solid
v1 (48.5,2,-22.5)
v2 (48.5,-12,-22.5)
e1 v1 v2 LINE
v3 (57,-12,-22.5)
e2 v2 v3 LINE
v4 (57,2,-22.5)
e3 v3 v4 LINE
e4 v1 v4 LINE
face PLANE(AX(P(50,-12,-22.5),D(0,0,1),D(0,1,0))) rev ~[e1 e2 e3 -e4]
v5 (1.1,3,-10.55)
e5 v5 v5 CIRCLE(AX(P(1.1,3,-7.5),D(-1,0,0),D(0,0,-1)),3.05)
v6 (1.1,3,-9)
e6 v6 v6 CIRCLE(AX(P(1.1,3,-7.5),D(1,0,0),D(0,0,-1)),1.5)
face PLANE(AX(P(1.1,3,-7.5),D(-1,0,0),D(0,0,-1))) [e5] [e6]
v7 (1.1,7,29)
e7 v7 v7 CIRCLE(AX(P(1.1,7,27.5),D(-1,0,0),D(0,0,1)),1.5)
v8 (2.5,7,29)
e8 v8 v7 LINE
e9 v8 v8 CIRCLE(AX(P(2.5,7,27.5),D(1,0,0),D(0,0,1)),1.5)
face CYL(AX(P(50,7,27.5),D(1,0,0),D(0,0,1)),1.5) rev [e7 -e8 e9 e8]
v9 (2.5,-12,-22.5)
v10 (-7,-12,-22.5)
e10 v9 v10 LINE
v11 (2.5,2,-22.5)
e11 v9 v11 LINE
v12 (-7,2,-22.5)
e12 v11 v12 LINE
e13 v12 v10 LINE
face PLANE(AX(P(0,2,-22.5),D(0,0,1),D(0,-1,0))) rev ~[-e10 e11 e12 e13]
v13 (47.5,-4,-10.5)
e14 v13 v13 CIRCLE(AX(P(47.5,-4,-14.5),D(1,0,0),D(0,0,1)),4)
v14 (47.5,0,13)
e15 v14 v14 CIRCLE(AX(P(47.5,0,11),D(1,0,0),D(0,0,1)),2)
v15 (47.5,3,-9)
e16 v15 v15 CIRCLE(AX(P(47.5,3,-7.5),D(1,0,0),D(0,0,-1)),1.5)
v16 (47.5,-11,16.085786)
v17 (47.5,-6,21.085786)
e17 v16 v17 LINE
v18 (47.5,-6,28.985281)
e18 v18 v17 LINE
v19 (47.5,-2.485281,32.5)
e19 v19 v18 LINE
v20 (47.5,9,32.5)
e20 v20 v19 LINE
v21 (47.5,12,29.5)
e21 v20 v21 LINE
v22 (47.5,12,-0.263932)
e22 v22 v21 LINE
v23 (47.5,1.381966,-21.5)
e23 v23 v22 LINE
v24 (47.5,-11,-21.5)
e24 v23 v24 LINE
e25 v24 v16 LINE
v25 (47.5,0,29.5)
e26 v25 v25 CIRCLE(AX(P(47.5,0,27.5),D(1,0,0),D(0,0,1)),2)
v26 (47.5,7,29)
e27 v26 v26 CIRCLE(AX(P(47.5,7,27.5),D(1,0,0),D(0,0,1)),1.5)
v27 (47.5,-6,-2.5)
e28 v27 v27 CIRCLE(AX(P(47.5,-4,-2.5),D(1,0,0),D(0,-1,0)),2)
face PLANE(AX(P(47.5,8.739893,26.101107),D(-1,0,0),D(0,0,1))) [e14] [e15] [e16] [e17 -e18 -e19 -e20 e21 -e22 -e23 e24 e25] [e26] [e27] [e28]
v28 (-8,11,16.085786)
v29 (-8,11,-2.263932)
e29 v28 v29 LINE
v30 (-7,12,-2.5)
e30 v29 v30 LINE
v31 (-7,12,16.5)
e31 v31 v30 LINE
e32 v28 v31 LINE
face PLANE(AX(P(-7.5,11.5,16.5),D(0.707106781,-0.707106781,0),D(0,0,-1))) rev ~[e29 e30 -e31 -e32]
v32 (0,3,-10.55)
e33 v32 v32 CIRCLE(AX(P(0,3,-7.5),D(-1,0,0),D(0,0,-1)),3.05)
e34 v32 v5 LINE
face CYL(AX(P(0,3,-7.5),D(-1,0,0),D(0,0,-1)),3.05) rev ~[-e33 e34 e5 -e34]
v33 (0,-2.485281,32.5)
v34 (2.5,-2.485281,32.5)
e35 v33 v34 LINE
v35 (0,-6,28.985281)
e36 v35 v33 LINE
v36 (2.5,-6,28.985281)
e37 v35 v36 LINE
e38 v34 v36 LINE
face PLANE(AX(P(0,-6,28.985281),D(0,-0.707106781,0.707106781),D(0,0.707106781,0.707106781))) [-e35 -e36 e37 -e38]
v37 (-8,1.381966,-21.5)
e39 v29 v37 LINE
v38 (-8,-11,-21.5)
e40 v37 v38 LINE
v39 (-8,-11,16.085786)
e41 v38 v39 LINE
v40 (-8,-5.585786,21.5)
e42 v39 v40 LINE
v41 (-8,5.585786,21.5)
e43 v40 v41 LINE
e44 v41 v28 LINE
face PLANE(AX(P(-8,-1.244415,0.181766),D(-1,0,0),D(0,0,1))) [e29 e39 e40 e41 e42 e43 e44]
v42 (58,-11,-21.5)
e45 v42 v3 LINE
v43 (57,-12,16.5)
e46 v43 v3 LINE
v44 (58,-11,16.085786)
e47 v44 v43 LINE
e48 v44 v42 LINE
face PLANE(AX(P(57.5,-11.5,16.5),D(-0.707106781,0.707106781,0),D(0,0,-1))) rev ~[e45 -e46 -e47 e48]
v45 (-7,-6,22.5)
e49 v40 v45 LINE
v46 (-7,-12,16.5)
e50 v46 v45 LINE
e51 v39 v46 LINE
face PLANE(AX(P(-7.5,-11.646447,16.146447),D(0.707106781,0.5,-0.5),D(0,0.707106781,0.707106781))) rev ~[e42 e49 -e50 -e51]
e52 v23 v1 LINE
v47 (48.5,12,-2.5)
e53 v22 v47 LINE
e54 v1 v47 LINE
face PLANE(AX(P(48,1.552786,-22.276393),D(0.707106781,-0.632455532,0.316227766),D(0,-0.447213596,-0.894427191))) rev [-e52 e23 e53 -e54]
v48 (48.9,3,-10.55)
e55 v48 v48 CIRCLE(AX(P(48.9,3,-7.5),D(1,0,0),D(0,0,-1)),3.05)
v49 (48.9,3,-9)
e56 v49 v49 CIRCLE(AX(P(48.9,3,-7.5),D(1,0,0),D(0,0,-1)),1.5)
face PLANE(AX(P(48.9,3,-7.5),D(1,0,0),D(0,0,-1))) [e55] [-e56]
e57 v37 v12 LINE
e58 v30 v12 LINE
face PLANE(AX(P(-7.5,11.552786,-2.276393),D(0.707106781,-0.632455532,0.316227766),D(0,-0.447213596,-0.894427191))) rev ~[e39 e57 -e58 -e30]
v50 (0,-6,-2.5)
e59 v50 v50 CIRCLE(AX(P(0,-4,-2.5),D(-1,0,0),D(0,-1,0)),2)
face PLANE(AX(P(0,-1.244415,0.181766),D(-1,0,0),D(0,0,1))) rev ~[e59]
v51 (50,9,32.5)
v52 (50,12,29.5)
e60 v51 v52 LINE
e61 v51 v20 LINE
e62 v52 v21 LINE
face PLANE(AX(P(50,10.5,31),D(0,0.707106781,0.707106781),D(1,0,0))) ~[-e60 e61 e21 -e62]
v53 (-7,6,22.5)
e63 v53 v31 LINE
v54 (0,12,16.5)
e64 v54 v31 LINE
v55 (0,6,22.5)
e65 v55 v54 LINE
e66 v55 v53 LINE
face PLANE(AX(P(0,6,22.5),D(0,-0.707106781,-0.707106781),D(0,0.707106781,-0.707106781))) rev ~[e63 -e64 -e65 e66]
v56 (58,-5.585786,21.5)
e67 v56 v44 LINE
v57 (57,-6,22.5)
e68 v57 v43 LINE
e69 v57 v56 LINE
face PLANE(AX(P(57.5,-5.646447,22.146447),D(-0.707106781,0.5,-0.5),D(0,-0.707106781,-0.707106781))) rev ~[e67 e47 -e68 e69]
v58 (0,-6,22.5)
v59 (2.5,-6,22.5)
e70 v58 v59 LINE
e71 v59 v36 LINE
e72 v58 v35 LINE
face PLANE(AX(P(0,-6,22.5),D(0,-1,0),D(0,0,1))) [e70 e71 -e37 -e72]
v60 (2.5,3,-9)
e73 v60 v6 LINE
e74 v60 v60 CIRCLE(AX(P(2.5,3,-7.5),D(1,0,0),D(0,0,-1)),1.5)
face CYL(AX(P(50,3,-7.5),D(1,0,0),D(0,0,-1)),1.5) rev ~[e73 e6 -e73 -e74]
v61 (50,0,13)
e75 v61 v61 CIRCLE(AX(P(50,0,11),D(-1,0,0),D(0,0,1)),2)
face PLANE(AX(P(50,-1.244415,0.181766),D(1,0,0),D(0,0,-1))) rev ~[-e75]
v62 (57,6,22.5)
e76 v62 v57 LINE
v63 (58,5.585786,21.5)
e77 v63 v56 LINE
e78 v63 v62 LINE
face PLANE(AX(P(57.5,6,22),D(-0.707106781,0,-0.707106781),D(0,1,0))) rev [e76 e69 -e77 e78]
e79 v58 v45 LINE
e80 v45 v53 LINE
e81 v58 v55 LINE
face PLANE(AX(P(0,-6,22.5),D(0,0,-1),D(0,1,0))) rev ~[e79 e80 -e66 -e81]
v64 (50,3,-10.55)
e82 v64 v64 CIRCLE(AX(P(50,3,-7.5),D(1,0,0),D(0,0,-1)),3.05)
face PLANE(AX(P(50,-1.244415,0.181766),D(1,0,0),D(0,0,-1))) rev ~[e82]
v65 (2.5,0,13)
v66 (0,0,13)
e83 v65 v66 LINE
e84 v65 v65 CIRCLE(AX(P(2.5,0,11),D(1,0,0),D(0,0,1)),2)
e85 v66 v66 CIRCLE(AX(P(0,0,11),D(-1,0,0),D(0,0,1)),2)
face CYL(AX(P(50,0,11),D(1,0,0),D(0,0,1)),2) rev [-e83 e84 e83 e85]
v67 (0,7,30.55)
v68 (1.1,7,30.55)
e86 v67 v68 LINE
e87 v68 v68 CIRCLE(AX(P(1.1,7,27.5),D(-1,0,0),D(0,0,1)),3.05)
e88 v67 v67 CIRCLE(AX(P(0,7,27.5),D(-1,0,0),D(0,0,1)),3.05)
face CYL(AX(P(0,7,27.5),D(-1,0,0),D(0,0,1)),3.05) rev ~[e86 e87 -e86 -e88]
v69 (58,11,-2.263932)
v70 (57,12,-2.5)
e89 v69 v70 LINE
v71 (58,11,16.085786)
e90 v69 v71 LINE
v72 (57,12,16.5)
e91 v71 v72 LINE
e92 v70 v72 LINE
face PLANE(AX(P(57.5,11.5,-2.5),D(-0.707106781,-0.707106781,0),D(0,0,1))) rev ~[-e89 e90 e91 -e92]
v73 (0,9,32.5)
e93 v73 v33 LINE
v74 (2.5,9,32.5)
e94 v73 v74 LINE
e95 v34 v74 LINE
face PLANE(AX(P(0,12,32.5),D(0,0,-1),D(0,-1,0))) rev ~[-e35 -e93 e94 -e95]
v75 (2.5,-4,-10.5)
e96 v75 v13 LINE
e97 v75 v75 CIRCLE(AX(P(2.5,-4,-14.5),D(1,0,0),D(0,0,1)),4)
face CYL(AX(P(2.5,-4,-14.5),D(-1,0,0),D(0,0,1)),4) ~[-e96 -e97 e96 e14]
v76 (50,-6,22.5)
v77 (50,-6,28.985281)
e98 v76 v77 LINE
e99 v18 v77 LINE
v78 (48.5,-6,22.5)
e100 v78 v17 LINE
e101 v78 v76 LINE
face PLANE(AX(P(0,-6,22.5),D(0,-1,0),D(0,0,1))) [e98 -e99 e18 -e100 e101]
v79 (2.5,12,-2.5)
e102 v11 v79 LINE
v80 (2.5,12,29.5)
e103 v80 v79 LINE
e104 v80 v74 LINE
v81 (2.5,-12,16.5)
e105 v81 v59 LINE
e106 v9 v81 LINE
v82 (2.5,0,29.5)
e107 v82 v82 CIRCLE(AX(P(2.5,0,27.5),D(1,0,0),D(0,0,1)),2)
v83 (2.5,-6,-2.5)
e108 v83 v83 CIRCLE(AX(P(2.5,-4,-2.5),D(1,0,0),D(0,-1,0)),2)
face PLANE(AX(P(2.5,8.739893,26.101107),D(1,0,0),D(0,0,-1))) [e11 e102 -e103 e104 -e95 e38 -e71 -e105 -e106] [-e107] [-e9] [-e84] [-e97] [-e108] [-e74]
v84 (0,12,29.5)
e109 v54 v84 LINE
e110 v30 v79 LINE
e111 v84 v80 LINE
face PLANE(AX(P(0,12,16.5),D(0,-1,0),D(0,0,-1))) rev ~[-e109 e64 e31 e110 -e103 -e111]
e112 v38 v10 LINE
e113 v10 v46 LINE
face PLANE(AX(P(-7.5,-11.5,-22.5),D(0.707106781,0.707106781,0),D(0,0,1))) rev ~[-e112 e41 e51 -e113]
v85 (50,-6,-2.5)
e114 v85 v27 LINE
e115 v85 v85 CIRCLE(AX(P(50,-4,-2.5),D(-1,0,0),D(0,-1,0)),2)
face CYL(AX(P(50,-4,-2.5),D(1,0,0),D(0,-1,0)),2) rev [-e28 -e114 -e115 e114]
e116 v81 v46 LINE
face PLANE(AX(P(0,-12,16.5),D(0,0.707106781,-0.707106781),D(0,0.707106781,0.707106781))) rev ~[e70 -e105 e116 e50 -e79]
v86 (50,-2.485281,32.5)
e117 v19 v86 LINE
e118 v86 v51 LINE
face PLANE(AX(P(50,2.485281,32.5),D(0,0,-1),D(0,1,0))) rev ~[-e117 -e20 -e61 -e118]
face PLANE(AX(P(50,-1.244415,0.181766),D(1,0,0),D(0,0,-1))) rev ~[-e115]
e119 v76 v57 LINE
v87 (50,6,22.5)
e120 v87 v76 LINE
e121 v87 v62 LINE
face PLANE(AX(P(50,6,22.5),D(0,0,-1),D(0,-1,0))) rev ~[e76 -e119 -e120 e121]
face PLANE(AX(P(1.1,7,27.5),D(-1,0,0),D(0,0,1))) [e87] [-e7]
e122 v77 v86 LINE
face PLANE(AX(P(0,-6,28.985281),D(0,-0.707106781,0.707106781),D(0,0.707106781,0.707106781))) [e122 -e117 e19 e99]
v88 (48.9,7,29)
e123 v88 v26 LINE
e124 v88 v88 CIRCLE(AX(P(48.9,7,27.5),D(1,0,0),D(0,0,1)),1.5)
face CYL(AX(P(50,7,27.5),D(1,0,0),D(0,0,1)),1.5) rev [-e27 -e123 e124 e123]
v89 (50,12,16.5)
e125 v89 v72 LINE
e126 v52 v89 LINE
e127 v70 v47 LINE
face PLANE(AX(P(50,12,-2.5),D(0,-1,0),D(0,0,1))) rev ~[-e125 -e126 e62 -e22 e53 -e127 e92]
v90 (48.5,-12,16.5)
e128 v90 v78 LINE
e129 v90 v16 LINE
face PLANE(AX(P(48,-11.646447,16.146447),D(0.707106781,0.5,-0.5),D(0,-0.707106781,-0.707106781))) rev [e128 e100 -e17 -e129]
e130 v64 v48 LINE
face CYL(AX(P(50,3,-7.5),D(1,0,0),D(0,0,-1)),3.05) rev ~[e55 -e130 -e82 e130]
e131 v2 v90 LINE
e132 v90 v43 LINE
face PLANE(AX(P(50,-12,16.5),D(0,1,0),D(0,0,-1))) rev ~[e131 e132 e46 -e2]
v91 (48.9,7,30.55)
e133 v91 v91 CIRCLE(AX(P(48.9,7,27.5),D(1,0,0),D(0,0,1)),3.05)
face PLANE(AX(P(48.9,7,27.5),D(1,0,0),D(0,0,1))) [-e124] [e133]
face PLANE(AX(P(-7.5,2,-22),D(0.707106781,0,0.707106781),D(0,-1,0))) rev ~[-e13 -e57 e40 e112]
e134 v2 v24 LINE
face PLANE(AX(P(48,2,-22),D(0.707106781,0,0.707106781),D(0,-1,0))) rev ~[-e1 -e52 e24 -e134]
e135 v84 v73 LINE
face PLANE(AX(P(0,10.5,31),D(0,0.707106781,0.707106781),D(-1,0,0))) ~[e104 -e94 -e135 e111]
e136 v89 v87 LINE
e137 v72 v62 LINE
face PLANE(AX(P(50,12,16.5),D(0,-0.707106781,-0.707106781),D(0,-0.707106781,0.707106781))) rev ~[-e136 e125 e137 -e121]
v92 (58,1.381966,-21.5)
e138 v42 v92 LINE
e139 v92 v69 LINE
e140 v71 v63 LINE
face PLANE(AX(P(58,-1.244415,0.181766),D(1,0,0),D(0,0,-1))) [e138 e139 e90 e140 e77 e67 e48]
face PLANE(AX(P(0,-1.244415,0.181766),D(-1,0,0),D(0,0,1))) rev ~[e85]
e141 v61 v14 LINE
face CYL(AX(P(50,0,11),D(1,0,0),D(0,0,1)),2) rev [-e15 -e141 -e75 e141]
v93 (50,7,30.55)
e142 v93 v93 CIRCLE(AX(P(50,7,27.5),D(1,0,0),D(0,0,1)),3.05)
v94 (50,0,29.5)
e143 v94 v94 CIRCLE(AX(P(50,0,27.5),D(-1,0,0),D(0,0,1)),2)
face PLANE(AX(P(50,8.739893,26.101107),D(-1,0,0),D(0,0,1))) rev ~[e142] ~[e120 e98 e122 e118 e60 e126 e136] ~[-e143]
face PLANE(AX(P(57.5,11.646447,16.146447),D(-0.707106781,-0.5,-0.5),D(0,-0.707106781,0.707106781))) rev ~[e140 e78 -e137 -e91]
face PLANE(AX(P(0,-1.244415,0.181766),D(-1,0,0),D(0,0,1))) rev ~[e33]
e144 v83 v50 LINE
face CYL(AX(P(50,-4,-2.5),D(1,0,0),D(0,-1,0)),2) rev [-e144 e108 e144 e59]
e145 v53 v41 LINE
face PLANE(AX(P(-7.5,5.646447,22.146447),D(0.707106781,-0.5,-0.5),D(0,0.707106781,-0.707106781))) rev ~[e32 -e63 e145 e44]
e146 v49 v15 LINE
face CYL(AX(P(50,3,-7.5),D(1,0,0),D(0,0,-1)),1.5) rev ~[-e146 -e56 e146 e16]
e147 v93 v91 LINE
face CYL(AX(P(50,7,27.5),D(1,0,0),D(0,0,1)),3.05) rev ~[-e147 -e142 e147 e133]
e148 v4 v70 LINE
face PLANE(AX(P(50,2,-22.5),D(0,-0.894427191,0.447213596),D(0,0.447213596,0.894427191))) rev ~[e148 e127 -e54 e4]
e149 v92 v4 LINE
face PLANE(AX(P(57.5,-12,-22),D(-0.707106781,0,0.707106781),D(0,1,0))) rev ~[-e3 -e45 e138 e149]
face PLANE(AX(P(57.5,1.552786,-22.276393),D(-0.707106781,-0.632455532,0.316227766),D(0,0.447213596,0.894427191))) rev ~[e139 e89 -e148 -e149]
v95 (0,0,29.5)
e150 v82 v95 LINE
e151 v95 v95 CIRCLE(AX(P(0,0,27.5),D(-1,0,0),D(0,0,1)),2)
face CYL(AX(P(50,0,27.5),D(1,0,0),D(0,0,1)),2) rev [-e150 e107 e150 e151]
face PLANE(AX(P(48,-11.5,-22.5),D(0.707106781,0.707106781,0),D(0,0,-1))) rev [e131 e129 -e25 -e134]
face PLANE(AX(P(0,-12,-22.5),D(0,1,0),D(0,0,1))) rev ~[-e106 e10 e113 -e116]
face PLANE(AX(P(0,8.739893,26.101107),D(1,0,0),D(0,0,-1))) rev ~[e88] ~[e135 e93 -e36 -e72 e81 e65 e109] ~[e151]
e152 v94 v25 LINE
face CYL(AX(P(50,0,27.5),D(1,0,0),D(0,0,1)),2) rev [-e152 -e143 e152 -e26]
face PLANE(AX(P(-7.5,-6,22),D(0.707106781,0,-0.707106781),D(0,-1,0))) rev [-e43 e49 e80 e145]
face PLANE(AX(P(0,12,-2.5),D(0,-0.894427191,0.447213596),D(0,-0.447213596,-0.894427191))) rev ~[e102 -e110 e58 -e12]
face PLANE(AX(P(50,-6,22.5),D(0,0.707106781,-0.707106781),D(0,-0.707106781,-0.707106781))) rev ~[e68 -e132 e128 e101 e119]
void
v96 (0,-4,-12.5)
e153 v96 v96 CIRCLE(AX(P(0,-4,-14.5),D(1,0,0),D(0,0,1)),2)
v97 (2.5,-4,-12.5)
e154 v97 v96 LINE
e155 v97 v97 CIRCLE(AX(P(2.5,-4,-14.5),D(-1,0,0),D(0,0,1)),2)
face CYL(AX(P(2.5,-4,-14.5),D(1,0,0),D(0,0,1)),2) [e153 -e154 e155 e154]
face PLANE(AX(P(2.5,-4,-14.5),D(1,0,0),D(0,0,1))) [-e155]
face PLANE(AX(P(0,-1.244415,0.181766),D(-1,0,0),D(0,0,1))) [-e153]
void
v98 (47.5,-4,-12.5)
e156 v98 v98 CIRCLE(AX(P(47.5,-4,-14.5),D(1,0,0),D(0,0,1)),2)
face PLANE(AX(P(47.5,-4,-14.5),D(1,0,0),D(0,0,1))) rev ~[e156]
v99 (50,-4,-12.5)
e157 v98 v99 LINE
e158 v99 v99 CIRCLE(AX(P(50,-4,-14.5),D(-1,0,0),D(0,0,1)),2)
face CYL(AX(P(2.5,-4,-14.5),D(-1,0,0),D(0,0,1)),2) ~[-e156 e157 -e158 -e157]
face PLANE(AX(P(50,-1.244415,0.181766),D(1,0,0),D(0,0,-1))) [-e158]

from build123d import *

# Parameters (mm, degrees)
SKETCH2_W                      = 45
SKETCH2_H                      = 24
BOSS_EXTRUDE1_DEPTH            = 50
CUT_EXTRUDE7_DEPTH             = 50
CHAMFER4_SIZE                  = 6
CUT_EXTRUDE1_REACH             = 70.33
SKETCH3_W                      = 45
SKETCH3_H                      = 10
CUT_EXTRUDE2_REACH             = 55.912
SKETCH4_R                      = 2
CUT_EXTRUDE2_DIRECTION_2_REACH = 55.912
SKETCH8_W                      = 45
SKETCH8_H                      = 50
CUT_EXTRUDE4_DEPTH             = 14
SKETCH6_R                      = 4
BOSS_EXTRUDE2_DEPTH            = 45
CUT_EXTRUDE3_START             = -50
SKETCH7_R                      = 2
CUT_EXTRUDE3_DEPTH             = 50
CUT_EXTRUDE6_START             = -2.5
SKETCH13_R                     = 2
CUT_EXTRUDE6_DEPTH             = 50
BOSS_EXTRUDE16_REACH           = 58.127
CUT_EXTRUDE13_REACH            = 64.292
SKETCH30_W                     = 45
SKETCH30_H                     = 10
CUT_EXTRUDE18_START            = -50
SKETCH37_R                     = 2
CUT_EXTRUDE18_DEPTH            = 50
CUT_EXTRUDE20_REACH            = 62.83
SKETCH43_R                     = 1.5
SKETCH44_R                     = 3.05
CUT_EXTRUDE21_DEPTH            = 1.1
SKETCH45_R                     = 3.05
CUT_EXTRUDE22_DEPTH            = 1.1
BOSS_EXTRUDE23_DEPTH           = 2.5
BOSS_EXTRUDE24_DEPTH           = 2.5
SKETCH55_R                     = 3.05
CUT_EXTRUDE28_DEPTH            = 1.1
CUT_EXTRUDE29_START            = -50
SKETCH57_R                     = 1.5
CUT_EXTRUDE29_DEPTH            = 48.9
SKETCH58_R                     = 3.05
CUT_EXTRUDE30_DEPTH            = 1.1
CHAMFER11_SIZE                 = 3
BOSS_EXTRUDE19_DEPTH           = 8
BOSS_EXTRUDE20_DEPTH           = 8
CHAMFER7_SIZE                  = 1
CHAMFER8_SIZE                  = 1


with BuildPart() as part:
    # Sketch2 → Boss-Extrude1 (new body)
    with BuildSketch(Plane(origin=(0, 0, 0), x_dir=(0, 0, -1), z_dir=(1, 0, 0))):
        Rectangle(SKETCH2_W, SKETCH2_H)
    extrude(amount=BOSS_EXTRUDE1_DEPTH)

    # Sketch14 → Cut-Extrude7 (cut)
    with BuildSketch(Plane(origin=(50, 0, 0), x_dir=(0, 0, -1), z_dir=(1, 0, 0))):
        Polygon((2.5, 12), (22.5, 2), (22.5, 12), align=None)
    extrude(amount=-CUT_EXTRUDE7_DEPTH, mode=Mode.SUBTRACT)

    # Chamfer4
    chamfer4_edges = [part.edges().sort_by_distance(p)[0] for p in [
        (25, -12, 22.5),
        (25, 12, 22.5),
    ]]
    chamfer(chamfer4_edges, length=CHAMFER4_SIZE)

    # Cut-Extrude1: up to this face of the body (flat: up to its plane)
    cut_extrude1_end = Plane(part.part.faces().sort_by_distance((25, 0, 22.5))[0])
    # Sketch3 → Cut-Extrude1 (cut, up to the picked face)
    with BuildSketch(Plane(origin=(0, 0, -22.5), x_dir=(-1, 0, 0), z_dir=(0, 0, -1)), mode=Mode.PRIVATE) as cut_extrude1_sk1:
        with Locations((-25, -7)):
            Rectangle(SKETCH3_W, SKETCH3_H)
    cut_extrude1_tool1 = split(extrude(cut_extrude1_sk1.sketch, amount=-CUT_EXTRUDE1_REACH, mode=Mode.PRIVATE), bisect_by=cut_extrude1_end, keep=Keep.BOTH, mode=Mode.PRIVATE)
    add(cut_extrude1_tool1.solids().sort_by(Axis((25, -7, -22.5), (0, 0, 1)))[0], mode=Mode.SUBTRACT)

    # Cut-Extrude2: up to this face of the body (flat: up to its plane)
    cut_extrude2_end = Plane(part.part.faces().sort_by_distance((50, -0.918079096, 0.895480226))[0])
    # Sketch4 → Cut-Extrude2 (cut, up to the picked face)
    with BuildSketch(Plane(origin=(2.5, 0, 0), x_dir=(0, 0, -1), z_dir=(1, 0, 0)), mode=Mode.PRIVATE) as cut_extrude2_sk1:
        with Locations(Location((14.5, -4, 0), (0, 0, 180))):
            Circle(SKETCH4_R)
    cut_extrude2_tool1 = split(extrude(cut_extrude2_sk1.sketch, amount=CUT_EXTRUDE2_REACH, mode=Mode.PRIVATE), bisect_by=cut_extrude2_end, keep=Keep.BOTH, mode=Mode.PRIVATE)
    add(cut_extrude2_tool1.solids().sort_by(Axis((2.5, -4, -14.5), (1, 0, 0)))[0], mode=Mode.SUBTRACT)

    # Cut-Extrude2 direction 2: up to this face of the body (flat: up to its plane)
    cut_extrude2_direction_2_end = Plane(part.part.faces().sort_by_distance((0, -0.918079096, 0.895480226))[0])
    # Sketch4 → Cut-Extrude2 direction 2 (cut, up to the picked face)
    with BuildSketch(Plane(origin=(2.5, 0, 0), x_dir=(0, 0, -1), z_dir=(1, 0, 0)), mode=Mode.PRIVATE) as cut_extrude2_direction_2_sk1:
        with Locations(Location((14.5, -4, 0), (0, 0, 180))):
            Circle(SKETCH4_R)
    cut_extrude2_direction_2_tool1 = split(extrude(cut_extrude2_direction_2_sk1.sketch, amount=-CUT_EXTRUDE2_DIRECTION_2_REACH, mode=Mode.PRIVATE), bisect_by=cut_extrude2_direction_2_end, keep=Keep.BOTH, mode=Mode.PRIVATE)
    add(cut_extrude2_direction_2_tool1.solids().sort_by(Axis((2.5, -4, -14.5), (-1, 0, 0)))[0], mode=Mode.SUBTRACT)

    # Sketch8 → Cut-Extrude4 (cut)
    with BuildSketch(Plane(origin=(0, 12, 0), x_dir=(1, 0, 0), z_dir=(0, 1, 0))):
        with Locations((25, 2.5)):
            Rectangle(SKETCH8_W, SKETCH8_H)
    extrude(amount=-CUT_EXTRUDE4_DEPTH, mode=Mode.SUBTRACT)


with BuildPart() as cut_extrude4_piece_1:
    # of the separate pieces the step leaves, piece 1, a body of its own (cut_extrude4_pieces)
    add(part.part.solids().sort_by_distance((0, -12, 16.5))[0])


with BuildPart() as cut_extrude4_piece_2:
    # of the separate pieces the step leaves, piece 2, a body of its own (cut_extrude4_pieces)
    add(part.part.solids().sort_by_distance((50, 2, -22.5))[0])

    # Sketch6 → Boss-Extrude2 (add)
    with BuildSketch(Plane(origin=(2.5, 0, 0), x_dir=(0, 0, -1), z_dir=(1, 0, 0))):
        with Locations(Location((14.5, -4, 0), (0, 0, 180))):
            Circle(SKETCH6_R)
    extrude(amount=BOSS_EXTRUDE2_DEPTH)


with BuildPart() as cut_extrude3_tool:
    # Sketch7 → Cut-Extrude3 (new body)
    with BuildSketch(Plane.ZY.offset(CUT_EXTRUDE3_START)):
        with Locations((11, 0)):
            Circle(SKETCH7_R)
    extrude(amount=CUT_EXTRUDE3_DEPTH)


with BuildPart() as cut_extrude4_piece_1_1:
    add(cut_extrude4_piece_1.part)

    # Cut-Extrude3: cut by cut_extrude3_tool
    add(cut_extrude3_tool.part, mode=Mode.SUBTRACT)


with BuildPart() as cut_extrude4_piece_2_1:
    add(cut_extrude4_piece_2.part)

    # Cut-Extrude3: cut by cut_extrude3_tool
    add(cut_extrude3_tool.part, mode=Mode.SUBTRACT)


with BuildPart() as cut_extrude6_tool:
    # Sketch13 → Cut-Extrude6 (new body)
    with BuildSketch(Plane.ZY.offset(-47.5).offset(CUT_EXTRUDE6_START)):
        with Locations(Location((-2.5, -4, 0), (0, 0, 270))):
            Circle(SKETCH13_R)
    extrude(amount=CUT_EXTRUDE6_DEPTH)


with BuildPart() as cut_extrude4_piece_1_2:
    add(cut_extrude4_piece_1_1.part)

    # Cut-Extrude6: cut by cut_extrude6_tool
    add(cut_extrude6_tool.part, mode=Mode.SUBTRACT)


with BuildPart() as cut_extrude4_piece_2_2:
    add(cut_extrude4_piece_2_1.part)

    # Cut-Extrude6: cut by cut_extrude6_tool
    add(cut_extrude6_tool.part, mode=Mode.SUBTRACT)

    # Boss-Extrude16: up to this face of the body (flat: up to its plane)
    boss_extrude16_end = Plane(cut_extrude4_piece_2_2.part.faces().sort_by_distance((50, -0.845343651, 1.015922603))[0])
    # Sketch29 → Boss-Extrude16 (add, up to the picked face)
    with BuildSketch(Plane.ZY, mode=Mode.PRIVATE) as boss_extrude16_sk1:
        Polygon((28.985281374, 6), (22.5, 6), (22.5, -6), (28.985281374, -6), (32.5, -2.485281374), (32.5, 2.485281374), align=None)
    boss_extrude16_tool1 = split(extrude(boss_extrude16_sk1.sketch, amount=-BOSS_EXTRUDE16_REACH, mode=Mode.PRIVATE), bisect_by=boss_extrude16_end, keep=Keep.BOTH, mode=Mode.PRIVATE)

    add(cut_extrude4_piece_1_2.part)  # Boss-Extrude16 merges Cut-Extrude4 piece 1
    add(boss_extrude16_tool1.solids().sort_by(Axis((0, 0, 27.06066), (1, 0, 0)))[0])

    # Cut-Extrude13: up to this plane
    cut_extrude13_end = Plane(origin=(65.620499352, -6, 28.985281374), z_dir=(0, -0.7071067811865474, 0.7071067811865477))
    # Sketch30 → Cut-Extrude13 (cut, up to the surface)
    with BuildSketch(Plane(origin=(0, 6, 0), x_dir=(1, 0, 0), z_dir=(0, 1, 0)), mode=Mode.PRIVATE) as cut_extrude13_sk1:
        with Locations((25, -27.5)):
            Rectangle(SKETCH30_W, SKETCH30_H)
    cut_extrude13_tool1 = split(extrude(cut_extrude13_sk1.sketch, amount=-CUT_EXTRUDE13_REACH, mode=Mode.PRIVATE), bisect_by=cut_extrude13_end, keep=Keep.BOTH, mode=Mode.PRIVATE)
    add(cut_extrude13_tool1.solids().sort_by_distance((25, 6, 27.5))[0], mode=Mode.SUBTRACT)

    # Sketch37 → Cut-Extrude18 (cut)
    with BuildSketch(Plane.ZY.offset(CUT_EXTRUDE18_START)):
        with Locations((27.5, 0)):
            Circle(SKETCH37_R)
    extrude(amount=CUT_EXTRUDE18_DEPTH, mode=Mode.SUBTRACT)

    # Cut-Extrude20: up to this face of the body (flat: up to its plane)
    cut_extrude20_end = Plane(cut_extrude4_piece_2_2.part.faces().sort_by_distance((0, -0.765078921, 3.483337135))[0])
    # Sketch43 → Cut-Extrude20 (cut, up to the picked face)
    with BuildSketch(Plane(origin=(50, 0, 0), x_dir=(0, 0, -1), z_dir=(1, 0, 0)), mode=Mode.PRIVATE) as cut_extrude20_sk1:
        with Locations((7.5, 3)):
            Circle(SKETCH43_R)
    cut_extrude20_tool1 = split(extrude(cut_extrude20_sk1.sketch, amount=-CUT_EXTRUDE20_REACH, mode=Mode.PRIVATE), bisect_by=cut_extrude20_end, keep=Keep.BOTH, mode=Mode.PRIVATE)
    add(cut_extrude20_tool1.solids().sort_by(Axis((50, 3, -7.5), (-1, 0, 0)))[0], mode=Mode.SUBTRACT)

    # Sketch44 → Cut-Extrude21 (cut)
    with BuildSketch(Plane(origin=(50, 0, 0), x_dir=(0, 0, -1), z_dir=(1, 0, 0))):
        with Locations((7.5, 3)):
            Circle(SKETCH44_R)
    extrude(amount=-CUT_EXTRUDE21_DEPTH, mode=Mode.SUBTRACT)

    # Sketch45 → Cut-Extrude22 (cut)
    with BuildSketch(Plane.ZY):
        with Locations(Location((-7.5, 3, 0), (0, 0, 180))):
            Circle(SKETCH45_R)
    extrude(amount=-CUT_EXTRUDE22_DEPTH, mode=Mode.SUBTRACT)

    # Sketch48 → Boss-Extrude23 (add)
    with BuildSketch(Plane(origin=(50, 0, 0), x_dir=(0, 0, -1), z_dir=(1, 0, 0))):
        Polygon((-16.5, 12), (-22.5, 6), (-28.985281374, 6), (-32.5, 2.485281374), (-32.5, 12), align=None)
    extrude(amount=-BOSS_EXTRUDE23_DEPTH)

    # Sketch49 → Boss-Extrude24 (add)
    with BuildSketch(Plane.ZY):
        Polygon((28.985281374, 6), (22.5, 6), (16.5, 12), (32.5, 12), (32.5, 2.485281374), align=None)
    extrude(amount=-BOSS_EXTRUDE24_DEPTH)

    # Sketch55 → Cut-Extrude28 (cut)
    with BuildSketch(Plane.ZY):
        with Locations((27.5, 7)):
            Circle(SKETCH55_R)
    extrude(amount=-CUT_EXTRUDE28_DEPTH, mode=Mode.SUBTRACT)

    # Sketch57 → Cut-Extrude29 (cut)
    with BuildSketch(Plane.ZY.offset(CUT_EXTRUDE29_START)):
        with Locations((27.5, 7)):
            Circle(SKETCH57_R)
    extrude(amount=CUT_EXTRUDE29_DEPTH, mode=Mode.SUBTRACT)

    # Sketch58 → Cut-Extrude30 (cut)
    with BuildSketch(Plane(origin=(50, 0, 0), x_dir=(0, 0, -1), z_dir=(1, 0, 0))):
        with Locations(Location((-27.5, 7, 0), (0, 0, 180))):
            Circle(SKETCH58_R)
    extrude(amount=-CUT_EXTRUDE30_DEPTH, mode=Mode.SUBTRACT)

    # Chamfer11
    chamfer11_edges = [cut_extrude4_piece_2_2.edges().sort_by_distance(p)[0] for p in [
        (48.75, 12, 32.5),
        (1.25, 12, 32.5),
    ]]
    chamfer(chamfer11_edges, length=CHAMFER11_SIZE)

    # Sketch38 → Boss-Extrude19 (add)
    with BuildSketch(Plane.ZY):
        Polygon((-2.5, 12), (-22.5, 2), (-22.5, -12), (16.5, -12), (22.5, -6), (22.5, 6), (16.5, 12), align=None)
    extrude(amount=BOSS_EXTRUDE19_DEPTH)

    # Sketch39 → Boss-Extrude20 (add)
    with BuildSketch(Plane(origin=(50, 0, 0), x_dir=(0, 0, -1), z_dir=(1, 0, 0))):
        Polygon((-22.5, 6), (-22.5, -6), (-16.5, -12), (22.5, -12), (22.5, 2), (2.5, 12), (-16.5, 12), align=None)
    extrude(amount=BOSS_EXTRUDE20_DEPTH)

    # Chamfer7
    chamfer7_edges = [cut_extrude4_piece_2_2.edges().sort_by_distance(p)[0] for p in [
        (-8, 12, 7),
        (-8, 7, -12.5),
        (-8, -5, -22.5),
        (-8, -12, -3),
        (-8, -9, 19.5),
        (-8, 0, 22.5),
        (-8, 9, 19.5),
        (58, 9, 19.5),
        (58, 0, 22.5),
        (58, -9, 19.5),
        (58, -12, -3),
        (58, -5, -22.5),
        (58, 7, -12.5),
        (58, 12, 7),
    ]]
    chamfer(chamfer7_edges, length=CHAMFER7_SIZE)

    # Chamfer8
    chamfer8_edges = [cut_extrude4_piece_2_2.edges().sort_by_distance(p)[0] for p in [
        (47.5, -12, -3),
        (47.5, -5, -22.5),
        (47.5, -9, 19.5),
        (47.5, 7, -12.5),
    ]]
    chamfer(chamfer8_edges, length=CHAMFER8_SIZE)


solid = cut_extrude4_piece_2_2.part
